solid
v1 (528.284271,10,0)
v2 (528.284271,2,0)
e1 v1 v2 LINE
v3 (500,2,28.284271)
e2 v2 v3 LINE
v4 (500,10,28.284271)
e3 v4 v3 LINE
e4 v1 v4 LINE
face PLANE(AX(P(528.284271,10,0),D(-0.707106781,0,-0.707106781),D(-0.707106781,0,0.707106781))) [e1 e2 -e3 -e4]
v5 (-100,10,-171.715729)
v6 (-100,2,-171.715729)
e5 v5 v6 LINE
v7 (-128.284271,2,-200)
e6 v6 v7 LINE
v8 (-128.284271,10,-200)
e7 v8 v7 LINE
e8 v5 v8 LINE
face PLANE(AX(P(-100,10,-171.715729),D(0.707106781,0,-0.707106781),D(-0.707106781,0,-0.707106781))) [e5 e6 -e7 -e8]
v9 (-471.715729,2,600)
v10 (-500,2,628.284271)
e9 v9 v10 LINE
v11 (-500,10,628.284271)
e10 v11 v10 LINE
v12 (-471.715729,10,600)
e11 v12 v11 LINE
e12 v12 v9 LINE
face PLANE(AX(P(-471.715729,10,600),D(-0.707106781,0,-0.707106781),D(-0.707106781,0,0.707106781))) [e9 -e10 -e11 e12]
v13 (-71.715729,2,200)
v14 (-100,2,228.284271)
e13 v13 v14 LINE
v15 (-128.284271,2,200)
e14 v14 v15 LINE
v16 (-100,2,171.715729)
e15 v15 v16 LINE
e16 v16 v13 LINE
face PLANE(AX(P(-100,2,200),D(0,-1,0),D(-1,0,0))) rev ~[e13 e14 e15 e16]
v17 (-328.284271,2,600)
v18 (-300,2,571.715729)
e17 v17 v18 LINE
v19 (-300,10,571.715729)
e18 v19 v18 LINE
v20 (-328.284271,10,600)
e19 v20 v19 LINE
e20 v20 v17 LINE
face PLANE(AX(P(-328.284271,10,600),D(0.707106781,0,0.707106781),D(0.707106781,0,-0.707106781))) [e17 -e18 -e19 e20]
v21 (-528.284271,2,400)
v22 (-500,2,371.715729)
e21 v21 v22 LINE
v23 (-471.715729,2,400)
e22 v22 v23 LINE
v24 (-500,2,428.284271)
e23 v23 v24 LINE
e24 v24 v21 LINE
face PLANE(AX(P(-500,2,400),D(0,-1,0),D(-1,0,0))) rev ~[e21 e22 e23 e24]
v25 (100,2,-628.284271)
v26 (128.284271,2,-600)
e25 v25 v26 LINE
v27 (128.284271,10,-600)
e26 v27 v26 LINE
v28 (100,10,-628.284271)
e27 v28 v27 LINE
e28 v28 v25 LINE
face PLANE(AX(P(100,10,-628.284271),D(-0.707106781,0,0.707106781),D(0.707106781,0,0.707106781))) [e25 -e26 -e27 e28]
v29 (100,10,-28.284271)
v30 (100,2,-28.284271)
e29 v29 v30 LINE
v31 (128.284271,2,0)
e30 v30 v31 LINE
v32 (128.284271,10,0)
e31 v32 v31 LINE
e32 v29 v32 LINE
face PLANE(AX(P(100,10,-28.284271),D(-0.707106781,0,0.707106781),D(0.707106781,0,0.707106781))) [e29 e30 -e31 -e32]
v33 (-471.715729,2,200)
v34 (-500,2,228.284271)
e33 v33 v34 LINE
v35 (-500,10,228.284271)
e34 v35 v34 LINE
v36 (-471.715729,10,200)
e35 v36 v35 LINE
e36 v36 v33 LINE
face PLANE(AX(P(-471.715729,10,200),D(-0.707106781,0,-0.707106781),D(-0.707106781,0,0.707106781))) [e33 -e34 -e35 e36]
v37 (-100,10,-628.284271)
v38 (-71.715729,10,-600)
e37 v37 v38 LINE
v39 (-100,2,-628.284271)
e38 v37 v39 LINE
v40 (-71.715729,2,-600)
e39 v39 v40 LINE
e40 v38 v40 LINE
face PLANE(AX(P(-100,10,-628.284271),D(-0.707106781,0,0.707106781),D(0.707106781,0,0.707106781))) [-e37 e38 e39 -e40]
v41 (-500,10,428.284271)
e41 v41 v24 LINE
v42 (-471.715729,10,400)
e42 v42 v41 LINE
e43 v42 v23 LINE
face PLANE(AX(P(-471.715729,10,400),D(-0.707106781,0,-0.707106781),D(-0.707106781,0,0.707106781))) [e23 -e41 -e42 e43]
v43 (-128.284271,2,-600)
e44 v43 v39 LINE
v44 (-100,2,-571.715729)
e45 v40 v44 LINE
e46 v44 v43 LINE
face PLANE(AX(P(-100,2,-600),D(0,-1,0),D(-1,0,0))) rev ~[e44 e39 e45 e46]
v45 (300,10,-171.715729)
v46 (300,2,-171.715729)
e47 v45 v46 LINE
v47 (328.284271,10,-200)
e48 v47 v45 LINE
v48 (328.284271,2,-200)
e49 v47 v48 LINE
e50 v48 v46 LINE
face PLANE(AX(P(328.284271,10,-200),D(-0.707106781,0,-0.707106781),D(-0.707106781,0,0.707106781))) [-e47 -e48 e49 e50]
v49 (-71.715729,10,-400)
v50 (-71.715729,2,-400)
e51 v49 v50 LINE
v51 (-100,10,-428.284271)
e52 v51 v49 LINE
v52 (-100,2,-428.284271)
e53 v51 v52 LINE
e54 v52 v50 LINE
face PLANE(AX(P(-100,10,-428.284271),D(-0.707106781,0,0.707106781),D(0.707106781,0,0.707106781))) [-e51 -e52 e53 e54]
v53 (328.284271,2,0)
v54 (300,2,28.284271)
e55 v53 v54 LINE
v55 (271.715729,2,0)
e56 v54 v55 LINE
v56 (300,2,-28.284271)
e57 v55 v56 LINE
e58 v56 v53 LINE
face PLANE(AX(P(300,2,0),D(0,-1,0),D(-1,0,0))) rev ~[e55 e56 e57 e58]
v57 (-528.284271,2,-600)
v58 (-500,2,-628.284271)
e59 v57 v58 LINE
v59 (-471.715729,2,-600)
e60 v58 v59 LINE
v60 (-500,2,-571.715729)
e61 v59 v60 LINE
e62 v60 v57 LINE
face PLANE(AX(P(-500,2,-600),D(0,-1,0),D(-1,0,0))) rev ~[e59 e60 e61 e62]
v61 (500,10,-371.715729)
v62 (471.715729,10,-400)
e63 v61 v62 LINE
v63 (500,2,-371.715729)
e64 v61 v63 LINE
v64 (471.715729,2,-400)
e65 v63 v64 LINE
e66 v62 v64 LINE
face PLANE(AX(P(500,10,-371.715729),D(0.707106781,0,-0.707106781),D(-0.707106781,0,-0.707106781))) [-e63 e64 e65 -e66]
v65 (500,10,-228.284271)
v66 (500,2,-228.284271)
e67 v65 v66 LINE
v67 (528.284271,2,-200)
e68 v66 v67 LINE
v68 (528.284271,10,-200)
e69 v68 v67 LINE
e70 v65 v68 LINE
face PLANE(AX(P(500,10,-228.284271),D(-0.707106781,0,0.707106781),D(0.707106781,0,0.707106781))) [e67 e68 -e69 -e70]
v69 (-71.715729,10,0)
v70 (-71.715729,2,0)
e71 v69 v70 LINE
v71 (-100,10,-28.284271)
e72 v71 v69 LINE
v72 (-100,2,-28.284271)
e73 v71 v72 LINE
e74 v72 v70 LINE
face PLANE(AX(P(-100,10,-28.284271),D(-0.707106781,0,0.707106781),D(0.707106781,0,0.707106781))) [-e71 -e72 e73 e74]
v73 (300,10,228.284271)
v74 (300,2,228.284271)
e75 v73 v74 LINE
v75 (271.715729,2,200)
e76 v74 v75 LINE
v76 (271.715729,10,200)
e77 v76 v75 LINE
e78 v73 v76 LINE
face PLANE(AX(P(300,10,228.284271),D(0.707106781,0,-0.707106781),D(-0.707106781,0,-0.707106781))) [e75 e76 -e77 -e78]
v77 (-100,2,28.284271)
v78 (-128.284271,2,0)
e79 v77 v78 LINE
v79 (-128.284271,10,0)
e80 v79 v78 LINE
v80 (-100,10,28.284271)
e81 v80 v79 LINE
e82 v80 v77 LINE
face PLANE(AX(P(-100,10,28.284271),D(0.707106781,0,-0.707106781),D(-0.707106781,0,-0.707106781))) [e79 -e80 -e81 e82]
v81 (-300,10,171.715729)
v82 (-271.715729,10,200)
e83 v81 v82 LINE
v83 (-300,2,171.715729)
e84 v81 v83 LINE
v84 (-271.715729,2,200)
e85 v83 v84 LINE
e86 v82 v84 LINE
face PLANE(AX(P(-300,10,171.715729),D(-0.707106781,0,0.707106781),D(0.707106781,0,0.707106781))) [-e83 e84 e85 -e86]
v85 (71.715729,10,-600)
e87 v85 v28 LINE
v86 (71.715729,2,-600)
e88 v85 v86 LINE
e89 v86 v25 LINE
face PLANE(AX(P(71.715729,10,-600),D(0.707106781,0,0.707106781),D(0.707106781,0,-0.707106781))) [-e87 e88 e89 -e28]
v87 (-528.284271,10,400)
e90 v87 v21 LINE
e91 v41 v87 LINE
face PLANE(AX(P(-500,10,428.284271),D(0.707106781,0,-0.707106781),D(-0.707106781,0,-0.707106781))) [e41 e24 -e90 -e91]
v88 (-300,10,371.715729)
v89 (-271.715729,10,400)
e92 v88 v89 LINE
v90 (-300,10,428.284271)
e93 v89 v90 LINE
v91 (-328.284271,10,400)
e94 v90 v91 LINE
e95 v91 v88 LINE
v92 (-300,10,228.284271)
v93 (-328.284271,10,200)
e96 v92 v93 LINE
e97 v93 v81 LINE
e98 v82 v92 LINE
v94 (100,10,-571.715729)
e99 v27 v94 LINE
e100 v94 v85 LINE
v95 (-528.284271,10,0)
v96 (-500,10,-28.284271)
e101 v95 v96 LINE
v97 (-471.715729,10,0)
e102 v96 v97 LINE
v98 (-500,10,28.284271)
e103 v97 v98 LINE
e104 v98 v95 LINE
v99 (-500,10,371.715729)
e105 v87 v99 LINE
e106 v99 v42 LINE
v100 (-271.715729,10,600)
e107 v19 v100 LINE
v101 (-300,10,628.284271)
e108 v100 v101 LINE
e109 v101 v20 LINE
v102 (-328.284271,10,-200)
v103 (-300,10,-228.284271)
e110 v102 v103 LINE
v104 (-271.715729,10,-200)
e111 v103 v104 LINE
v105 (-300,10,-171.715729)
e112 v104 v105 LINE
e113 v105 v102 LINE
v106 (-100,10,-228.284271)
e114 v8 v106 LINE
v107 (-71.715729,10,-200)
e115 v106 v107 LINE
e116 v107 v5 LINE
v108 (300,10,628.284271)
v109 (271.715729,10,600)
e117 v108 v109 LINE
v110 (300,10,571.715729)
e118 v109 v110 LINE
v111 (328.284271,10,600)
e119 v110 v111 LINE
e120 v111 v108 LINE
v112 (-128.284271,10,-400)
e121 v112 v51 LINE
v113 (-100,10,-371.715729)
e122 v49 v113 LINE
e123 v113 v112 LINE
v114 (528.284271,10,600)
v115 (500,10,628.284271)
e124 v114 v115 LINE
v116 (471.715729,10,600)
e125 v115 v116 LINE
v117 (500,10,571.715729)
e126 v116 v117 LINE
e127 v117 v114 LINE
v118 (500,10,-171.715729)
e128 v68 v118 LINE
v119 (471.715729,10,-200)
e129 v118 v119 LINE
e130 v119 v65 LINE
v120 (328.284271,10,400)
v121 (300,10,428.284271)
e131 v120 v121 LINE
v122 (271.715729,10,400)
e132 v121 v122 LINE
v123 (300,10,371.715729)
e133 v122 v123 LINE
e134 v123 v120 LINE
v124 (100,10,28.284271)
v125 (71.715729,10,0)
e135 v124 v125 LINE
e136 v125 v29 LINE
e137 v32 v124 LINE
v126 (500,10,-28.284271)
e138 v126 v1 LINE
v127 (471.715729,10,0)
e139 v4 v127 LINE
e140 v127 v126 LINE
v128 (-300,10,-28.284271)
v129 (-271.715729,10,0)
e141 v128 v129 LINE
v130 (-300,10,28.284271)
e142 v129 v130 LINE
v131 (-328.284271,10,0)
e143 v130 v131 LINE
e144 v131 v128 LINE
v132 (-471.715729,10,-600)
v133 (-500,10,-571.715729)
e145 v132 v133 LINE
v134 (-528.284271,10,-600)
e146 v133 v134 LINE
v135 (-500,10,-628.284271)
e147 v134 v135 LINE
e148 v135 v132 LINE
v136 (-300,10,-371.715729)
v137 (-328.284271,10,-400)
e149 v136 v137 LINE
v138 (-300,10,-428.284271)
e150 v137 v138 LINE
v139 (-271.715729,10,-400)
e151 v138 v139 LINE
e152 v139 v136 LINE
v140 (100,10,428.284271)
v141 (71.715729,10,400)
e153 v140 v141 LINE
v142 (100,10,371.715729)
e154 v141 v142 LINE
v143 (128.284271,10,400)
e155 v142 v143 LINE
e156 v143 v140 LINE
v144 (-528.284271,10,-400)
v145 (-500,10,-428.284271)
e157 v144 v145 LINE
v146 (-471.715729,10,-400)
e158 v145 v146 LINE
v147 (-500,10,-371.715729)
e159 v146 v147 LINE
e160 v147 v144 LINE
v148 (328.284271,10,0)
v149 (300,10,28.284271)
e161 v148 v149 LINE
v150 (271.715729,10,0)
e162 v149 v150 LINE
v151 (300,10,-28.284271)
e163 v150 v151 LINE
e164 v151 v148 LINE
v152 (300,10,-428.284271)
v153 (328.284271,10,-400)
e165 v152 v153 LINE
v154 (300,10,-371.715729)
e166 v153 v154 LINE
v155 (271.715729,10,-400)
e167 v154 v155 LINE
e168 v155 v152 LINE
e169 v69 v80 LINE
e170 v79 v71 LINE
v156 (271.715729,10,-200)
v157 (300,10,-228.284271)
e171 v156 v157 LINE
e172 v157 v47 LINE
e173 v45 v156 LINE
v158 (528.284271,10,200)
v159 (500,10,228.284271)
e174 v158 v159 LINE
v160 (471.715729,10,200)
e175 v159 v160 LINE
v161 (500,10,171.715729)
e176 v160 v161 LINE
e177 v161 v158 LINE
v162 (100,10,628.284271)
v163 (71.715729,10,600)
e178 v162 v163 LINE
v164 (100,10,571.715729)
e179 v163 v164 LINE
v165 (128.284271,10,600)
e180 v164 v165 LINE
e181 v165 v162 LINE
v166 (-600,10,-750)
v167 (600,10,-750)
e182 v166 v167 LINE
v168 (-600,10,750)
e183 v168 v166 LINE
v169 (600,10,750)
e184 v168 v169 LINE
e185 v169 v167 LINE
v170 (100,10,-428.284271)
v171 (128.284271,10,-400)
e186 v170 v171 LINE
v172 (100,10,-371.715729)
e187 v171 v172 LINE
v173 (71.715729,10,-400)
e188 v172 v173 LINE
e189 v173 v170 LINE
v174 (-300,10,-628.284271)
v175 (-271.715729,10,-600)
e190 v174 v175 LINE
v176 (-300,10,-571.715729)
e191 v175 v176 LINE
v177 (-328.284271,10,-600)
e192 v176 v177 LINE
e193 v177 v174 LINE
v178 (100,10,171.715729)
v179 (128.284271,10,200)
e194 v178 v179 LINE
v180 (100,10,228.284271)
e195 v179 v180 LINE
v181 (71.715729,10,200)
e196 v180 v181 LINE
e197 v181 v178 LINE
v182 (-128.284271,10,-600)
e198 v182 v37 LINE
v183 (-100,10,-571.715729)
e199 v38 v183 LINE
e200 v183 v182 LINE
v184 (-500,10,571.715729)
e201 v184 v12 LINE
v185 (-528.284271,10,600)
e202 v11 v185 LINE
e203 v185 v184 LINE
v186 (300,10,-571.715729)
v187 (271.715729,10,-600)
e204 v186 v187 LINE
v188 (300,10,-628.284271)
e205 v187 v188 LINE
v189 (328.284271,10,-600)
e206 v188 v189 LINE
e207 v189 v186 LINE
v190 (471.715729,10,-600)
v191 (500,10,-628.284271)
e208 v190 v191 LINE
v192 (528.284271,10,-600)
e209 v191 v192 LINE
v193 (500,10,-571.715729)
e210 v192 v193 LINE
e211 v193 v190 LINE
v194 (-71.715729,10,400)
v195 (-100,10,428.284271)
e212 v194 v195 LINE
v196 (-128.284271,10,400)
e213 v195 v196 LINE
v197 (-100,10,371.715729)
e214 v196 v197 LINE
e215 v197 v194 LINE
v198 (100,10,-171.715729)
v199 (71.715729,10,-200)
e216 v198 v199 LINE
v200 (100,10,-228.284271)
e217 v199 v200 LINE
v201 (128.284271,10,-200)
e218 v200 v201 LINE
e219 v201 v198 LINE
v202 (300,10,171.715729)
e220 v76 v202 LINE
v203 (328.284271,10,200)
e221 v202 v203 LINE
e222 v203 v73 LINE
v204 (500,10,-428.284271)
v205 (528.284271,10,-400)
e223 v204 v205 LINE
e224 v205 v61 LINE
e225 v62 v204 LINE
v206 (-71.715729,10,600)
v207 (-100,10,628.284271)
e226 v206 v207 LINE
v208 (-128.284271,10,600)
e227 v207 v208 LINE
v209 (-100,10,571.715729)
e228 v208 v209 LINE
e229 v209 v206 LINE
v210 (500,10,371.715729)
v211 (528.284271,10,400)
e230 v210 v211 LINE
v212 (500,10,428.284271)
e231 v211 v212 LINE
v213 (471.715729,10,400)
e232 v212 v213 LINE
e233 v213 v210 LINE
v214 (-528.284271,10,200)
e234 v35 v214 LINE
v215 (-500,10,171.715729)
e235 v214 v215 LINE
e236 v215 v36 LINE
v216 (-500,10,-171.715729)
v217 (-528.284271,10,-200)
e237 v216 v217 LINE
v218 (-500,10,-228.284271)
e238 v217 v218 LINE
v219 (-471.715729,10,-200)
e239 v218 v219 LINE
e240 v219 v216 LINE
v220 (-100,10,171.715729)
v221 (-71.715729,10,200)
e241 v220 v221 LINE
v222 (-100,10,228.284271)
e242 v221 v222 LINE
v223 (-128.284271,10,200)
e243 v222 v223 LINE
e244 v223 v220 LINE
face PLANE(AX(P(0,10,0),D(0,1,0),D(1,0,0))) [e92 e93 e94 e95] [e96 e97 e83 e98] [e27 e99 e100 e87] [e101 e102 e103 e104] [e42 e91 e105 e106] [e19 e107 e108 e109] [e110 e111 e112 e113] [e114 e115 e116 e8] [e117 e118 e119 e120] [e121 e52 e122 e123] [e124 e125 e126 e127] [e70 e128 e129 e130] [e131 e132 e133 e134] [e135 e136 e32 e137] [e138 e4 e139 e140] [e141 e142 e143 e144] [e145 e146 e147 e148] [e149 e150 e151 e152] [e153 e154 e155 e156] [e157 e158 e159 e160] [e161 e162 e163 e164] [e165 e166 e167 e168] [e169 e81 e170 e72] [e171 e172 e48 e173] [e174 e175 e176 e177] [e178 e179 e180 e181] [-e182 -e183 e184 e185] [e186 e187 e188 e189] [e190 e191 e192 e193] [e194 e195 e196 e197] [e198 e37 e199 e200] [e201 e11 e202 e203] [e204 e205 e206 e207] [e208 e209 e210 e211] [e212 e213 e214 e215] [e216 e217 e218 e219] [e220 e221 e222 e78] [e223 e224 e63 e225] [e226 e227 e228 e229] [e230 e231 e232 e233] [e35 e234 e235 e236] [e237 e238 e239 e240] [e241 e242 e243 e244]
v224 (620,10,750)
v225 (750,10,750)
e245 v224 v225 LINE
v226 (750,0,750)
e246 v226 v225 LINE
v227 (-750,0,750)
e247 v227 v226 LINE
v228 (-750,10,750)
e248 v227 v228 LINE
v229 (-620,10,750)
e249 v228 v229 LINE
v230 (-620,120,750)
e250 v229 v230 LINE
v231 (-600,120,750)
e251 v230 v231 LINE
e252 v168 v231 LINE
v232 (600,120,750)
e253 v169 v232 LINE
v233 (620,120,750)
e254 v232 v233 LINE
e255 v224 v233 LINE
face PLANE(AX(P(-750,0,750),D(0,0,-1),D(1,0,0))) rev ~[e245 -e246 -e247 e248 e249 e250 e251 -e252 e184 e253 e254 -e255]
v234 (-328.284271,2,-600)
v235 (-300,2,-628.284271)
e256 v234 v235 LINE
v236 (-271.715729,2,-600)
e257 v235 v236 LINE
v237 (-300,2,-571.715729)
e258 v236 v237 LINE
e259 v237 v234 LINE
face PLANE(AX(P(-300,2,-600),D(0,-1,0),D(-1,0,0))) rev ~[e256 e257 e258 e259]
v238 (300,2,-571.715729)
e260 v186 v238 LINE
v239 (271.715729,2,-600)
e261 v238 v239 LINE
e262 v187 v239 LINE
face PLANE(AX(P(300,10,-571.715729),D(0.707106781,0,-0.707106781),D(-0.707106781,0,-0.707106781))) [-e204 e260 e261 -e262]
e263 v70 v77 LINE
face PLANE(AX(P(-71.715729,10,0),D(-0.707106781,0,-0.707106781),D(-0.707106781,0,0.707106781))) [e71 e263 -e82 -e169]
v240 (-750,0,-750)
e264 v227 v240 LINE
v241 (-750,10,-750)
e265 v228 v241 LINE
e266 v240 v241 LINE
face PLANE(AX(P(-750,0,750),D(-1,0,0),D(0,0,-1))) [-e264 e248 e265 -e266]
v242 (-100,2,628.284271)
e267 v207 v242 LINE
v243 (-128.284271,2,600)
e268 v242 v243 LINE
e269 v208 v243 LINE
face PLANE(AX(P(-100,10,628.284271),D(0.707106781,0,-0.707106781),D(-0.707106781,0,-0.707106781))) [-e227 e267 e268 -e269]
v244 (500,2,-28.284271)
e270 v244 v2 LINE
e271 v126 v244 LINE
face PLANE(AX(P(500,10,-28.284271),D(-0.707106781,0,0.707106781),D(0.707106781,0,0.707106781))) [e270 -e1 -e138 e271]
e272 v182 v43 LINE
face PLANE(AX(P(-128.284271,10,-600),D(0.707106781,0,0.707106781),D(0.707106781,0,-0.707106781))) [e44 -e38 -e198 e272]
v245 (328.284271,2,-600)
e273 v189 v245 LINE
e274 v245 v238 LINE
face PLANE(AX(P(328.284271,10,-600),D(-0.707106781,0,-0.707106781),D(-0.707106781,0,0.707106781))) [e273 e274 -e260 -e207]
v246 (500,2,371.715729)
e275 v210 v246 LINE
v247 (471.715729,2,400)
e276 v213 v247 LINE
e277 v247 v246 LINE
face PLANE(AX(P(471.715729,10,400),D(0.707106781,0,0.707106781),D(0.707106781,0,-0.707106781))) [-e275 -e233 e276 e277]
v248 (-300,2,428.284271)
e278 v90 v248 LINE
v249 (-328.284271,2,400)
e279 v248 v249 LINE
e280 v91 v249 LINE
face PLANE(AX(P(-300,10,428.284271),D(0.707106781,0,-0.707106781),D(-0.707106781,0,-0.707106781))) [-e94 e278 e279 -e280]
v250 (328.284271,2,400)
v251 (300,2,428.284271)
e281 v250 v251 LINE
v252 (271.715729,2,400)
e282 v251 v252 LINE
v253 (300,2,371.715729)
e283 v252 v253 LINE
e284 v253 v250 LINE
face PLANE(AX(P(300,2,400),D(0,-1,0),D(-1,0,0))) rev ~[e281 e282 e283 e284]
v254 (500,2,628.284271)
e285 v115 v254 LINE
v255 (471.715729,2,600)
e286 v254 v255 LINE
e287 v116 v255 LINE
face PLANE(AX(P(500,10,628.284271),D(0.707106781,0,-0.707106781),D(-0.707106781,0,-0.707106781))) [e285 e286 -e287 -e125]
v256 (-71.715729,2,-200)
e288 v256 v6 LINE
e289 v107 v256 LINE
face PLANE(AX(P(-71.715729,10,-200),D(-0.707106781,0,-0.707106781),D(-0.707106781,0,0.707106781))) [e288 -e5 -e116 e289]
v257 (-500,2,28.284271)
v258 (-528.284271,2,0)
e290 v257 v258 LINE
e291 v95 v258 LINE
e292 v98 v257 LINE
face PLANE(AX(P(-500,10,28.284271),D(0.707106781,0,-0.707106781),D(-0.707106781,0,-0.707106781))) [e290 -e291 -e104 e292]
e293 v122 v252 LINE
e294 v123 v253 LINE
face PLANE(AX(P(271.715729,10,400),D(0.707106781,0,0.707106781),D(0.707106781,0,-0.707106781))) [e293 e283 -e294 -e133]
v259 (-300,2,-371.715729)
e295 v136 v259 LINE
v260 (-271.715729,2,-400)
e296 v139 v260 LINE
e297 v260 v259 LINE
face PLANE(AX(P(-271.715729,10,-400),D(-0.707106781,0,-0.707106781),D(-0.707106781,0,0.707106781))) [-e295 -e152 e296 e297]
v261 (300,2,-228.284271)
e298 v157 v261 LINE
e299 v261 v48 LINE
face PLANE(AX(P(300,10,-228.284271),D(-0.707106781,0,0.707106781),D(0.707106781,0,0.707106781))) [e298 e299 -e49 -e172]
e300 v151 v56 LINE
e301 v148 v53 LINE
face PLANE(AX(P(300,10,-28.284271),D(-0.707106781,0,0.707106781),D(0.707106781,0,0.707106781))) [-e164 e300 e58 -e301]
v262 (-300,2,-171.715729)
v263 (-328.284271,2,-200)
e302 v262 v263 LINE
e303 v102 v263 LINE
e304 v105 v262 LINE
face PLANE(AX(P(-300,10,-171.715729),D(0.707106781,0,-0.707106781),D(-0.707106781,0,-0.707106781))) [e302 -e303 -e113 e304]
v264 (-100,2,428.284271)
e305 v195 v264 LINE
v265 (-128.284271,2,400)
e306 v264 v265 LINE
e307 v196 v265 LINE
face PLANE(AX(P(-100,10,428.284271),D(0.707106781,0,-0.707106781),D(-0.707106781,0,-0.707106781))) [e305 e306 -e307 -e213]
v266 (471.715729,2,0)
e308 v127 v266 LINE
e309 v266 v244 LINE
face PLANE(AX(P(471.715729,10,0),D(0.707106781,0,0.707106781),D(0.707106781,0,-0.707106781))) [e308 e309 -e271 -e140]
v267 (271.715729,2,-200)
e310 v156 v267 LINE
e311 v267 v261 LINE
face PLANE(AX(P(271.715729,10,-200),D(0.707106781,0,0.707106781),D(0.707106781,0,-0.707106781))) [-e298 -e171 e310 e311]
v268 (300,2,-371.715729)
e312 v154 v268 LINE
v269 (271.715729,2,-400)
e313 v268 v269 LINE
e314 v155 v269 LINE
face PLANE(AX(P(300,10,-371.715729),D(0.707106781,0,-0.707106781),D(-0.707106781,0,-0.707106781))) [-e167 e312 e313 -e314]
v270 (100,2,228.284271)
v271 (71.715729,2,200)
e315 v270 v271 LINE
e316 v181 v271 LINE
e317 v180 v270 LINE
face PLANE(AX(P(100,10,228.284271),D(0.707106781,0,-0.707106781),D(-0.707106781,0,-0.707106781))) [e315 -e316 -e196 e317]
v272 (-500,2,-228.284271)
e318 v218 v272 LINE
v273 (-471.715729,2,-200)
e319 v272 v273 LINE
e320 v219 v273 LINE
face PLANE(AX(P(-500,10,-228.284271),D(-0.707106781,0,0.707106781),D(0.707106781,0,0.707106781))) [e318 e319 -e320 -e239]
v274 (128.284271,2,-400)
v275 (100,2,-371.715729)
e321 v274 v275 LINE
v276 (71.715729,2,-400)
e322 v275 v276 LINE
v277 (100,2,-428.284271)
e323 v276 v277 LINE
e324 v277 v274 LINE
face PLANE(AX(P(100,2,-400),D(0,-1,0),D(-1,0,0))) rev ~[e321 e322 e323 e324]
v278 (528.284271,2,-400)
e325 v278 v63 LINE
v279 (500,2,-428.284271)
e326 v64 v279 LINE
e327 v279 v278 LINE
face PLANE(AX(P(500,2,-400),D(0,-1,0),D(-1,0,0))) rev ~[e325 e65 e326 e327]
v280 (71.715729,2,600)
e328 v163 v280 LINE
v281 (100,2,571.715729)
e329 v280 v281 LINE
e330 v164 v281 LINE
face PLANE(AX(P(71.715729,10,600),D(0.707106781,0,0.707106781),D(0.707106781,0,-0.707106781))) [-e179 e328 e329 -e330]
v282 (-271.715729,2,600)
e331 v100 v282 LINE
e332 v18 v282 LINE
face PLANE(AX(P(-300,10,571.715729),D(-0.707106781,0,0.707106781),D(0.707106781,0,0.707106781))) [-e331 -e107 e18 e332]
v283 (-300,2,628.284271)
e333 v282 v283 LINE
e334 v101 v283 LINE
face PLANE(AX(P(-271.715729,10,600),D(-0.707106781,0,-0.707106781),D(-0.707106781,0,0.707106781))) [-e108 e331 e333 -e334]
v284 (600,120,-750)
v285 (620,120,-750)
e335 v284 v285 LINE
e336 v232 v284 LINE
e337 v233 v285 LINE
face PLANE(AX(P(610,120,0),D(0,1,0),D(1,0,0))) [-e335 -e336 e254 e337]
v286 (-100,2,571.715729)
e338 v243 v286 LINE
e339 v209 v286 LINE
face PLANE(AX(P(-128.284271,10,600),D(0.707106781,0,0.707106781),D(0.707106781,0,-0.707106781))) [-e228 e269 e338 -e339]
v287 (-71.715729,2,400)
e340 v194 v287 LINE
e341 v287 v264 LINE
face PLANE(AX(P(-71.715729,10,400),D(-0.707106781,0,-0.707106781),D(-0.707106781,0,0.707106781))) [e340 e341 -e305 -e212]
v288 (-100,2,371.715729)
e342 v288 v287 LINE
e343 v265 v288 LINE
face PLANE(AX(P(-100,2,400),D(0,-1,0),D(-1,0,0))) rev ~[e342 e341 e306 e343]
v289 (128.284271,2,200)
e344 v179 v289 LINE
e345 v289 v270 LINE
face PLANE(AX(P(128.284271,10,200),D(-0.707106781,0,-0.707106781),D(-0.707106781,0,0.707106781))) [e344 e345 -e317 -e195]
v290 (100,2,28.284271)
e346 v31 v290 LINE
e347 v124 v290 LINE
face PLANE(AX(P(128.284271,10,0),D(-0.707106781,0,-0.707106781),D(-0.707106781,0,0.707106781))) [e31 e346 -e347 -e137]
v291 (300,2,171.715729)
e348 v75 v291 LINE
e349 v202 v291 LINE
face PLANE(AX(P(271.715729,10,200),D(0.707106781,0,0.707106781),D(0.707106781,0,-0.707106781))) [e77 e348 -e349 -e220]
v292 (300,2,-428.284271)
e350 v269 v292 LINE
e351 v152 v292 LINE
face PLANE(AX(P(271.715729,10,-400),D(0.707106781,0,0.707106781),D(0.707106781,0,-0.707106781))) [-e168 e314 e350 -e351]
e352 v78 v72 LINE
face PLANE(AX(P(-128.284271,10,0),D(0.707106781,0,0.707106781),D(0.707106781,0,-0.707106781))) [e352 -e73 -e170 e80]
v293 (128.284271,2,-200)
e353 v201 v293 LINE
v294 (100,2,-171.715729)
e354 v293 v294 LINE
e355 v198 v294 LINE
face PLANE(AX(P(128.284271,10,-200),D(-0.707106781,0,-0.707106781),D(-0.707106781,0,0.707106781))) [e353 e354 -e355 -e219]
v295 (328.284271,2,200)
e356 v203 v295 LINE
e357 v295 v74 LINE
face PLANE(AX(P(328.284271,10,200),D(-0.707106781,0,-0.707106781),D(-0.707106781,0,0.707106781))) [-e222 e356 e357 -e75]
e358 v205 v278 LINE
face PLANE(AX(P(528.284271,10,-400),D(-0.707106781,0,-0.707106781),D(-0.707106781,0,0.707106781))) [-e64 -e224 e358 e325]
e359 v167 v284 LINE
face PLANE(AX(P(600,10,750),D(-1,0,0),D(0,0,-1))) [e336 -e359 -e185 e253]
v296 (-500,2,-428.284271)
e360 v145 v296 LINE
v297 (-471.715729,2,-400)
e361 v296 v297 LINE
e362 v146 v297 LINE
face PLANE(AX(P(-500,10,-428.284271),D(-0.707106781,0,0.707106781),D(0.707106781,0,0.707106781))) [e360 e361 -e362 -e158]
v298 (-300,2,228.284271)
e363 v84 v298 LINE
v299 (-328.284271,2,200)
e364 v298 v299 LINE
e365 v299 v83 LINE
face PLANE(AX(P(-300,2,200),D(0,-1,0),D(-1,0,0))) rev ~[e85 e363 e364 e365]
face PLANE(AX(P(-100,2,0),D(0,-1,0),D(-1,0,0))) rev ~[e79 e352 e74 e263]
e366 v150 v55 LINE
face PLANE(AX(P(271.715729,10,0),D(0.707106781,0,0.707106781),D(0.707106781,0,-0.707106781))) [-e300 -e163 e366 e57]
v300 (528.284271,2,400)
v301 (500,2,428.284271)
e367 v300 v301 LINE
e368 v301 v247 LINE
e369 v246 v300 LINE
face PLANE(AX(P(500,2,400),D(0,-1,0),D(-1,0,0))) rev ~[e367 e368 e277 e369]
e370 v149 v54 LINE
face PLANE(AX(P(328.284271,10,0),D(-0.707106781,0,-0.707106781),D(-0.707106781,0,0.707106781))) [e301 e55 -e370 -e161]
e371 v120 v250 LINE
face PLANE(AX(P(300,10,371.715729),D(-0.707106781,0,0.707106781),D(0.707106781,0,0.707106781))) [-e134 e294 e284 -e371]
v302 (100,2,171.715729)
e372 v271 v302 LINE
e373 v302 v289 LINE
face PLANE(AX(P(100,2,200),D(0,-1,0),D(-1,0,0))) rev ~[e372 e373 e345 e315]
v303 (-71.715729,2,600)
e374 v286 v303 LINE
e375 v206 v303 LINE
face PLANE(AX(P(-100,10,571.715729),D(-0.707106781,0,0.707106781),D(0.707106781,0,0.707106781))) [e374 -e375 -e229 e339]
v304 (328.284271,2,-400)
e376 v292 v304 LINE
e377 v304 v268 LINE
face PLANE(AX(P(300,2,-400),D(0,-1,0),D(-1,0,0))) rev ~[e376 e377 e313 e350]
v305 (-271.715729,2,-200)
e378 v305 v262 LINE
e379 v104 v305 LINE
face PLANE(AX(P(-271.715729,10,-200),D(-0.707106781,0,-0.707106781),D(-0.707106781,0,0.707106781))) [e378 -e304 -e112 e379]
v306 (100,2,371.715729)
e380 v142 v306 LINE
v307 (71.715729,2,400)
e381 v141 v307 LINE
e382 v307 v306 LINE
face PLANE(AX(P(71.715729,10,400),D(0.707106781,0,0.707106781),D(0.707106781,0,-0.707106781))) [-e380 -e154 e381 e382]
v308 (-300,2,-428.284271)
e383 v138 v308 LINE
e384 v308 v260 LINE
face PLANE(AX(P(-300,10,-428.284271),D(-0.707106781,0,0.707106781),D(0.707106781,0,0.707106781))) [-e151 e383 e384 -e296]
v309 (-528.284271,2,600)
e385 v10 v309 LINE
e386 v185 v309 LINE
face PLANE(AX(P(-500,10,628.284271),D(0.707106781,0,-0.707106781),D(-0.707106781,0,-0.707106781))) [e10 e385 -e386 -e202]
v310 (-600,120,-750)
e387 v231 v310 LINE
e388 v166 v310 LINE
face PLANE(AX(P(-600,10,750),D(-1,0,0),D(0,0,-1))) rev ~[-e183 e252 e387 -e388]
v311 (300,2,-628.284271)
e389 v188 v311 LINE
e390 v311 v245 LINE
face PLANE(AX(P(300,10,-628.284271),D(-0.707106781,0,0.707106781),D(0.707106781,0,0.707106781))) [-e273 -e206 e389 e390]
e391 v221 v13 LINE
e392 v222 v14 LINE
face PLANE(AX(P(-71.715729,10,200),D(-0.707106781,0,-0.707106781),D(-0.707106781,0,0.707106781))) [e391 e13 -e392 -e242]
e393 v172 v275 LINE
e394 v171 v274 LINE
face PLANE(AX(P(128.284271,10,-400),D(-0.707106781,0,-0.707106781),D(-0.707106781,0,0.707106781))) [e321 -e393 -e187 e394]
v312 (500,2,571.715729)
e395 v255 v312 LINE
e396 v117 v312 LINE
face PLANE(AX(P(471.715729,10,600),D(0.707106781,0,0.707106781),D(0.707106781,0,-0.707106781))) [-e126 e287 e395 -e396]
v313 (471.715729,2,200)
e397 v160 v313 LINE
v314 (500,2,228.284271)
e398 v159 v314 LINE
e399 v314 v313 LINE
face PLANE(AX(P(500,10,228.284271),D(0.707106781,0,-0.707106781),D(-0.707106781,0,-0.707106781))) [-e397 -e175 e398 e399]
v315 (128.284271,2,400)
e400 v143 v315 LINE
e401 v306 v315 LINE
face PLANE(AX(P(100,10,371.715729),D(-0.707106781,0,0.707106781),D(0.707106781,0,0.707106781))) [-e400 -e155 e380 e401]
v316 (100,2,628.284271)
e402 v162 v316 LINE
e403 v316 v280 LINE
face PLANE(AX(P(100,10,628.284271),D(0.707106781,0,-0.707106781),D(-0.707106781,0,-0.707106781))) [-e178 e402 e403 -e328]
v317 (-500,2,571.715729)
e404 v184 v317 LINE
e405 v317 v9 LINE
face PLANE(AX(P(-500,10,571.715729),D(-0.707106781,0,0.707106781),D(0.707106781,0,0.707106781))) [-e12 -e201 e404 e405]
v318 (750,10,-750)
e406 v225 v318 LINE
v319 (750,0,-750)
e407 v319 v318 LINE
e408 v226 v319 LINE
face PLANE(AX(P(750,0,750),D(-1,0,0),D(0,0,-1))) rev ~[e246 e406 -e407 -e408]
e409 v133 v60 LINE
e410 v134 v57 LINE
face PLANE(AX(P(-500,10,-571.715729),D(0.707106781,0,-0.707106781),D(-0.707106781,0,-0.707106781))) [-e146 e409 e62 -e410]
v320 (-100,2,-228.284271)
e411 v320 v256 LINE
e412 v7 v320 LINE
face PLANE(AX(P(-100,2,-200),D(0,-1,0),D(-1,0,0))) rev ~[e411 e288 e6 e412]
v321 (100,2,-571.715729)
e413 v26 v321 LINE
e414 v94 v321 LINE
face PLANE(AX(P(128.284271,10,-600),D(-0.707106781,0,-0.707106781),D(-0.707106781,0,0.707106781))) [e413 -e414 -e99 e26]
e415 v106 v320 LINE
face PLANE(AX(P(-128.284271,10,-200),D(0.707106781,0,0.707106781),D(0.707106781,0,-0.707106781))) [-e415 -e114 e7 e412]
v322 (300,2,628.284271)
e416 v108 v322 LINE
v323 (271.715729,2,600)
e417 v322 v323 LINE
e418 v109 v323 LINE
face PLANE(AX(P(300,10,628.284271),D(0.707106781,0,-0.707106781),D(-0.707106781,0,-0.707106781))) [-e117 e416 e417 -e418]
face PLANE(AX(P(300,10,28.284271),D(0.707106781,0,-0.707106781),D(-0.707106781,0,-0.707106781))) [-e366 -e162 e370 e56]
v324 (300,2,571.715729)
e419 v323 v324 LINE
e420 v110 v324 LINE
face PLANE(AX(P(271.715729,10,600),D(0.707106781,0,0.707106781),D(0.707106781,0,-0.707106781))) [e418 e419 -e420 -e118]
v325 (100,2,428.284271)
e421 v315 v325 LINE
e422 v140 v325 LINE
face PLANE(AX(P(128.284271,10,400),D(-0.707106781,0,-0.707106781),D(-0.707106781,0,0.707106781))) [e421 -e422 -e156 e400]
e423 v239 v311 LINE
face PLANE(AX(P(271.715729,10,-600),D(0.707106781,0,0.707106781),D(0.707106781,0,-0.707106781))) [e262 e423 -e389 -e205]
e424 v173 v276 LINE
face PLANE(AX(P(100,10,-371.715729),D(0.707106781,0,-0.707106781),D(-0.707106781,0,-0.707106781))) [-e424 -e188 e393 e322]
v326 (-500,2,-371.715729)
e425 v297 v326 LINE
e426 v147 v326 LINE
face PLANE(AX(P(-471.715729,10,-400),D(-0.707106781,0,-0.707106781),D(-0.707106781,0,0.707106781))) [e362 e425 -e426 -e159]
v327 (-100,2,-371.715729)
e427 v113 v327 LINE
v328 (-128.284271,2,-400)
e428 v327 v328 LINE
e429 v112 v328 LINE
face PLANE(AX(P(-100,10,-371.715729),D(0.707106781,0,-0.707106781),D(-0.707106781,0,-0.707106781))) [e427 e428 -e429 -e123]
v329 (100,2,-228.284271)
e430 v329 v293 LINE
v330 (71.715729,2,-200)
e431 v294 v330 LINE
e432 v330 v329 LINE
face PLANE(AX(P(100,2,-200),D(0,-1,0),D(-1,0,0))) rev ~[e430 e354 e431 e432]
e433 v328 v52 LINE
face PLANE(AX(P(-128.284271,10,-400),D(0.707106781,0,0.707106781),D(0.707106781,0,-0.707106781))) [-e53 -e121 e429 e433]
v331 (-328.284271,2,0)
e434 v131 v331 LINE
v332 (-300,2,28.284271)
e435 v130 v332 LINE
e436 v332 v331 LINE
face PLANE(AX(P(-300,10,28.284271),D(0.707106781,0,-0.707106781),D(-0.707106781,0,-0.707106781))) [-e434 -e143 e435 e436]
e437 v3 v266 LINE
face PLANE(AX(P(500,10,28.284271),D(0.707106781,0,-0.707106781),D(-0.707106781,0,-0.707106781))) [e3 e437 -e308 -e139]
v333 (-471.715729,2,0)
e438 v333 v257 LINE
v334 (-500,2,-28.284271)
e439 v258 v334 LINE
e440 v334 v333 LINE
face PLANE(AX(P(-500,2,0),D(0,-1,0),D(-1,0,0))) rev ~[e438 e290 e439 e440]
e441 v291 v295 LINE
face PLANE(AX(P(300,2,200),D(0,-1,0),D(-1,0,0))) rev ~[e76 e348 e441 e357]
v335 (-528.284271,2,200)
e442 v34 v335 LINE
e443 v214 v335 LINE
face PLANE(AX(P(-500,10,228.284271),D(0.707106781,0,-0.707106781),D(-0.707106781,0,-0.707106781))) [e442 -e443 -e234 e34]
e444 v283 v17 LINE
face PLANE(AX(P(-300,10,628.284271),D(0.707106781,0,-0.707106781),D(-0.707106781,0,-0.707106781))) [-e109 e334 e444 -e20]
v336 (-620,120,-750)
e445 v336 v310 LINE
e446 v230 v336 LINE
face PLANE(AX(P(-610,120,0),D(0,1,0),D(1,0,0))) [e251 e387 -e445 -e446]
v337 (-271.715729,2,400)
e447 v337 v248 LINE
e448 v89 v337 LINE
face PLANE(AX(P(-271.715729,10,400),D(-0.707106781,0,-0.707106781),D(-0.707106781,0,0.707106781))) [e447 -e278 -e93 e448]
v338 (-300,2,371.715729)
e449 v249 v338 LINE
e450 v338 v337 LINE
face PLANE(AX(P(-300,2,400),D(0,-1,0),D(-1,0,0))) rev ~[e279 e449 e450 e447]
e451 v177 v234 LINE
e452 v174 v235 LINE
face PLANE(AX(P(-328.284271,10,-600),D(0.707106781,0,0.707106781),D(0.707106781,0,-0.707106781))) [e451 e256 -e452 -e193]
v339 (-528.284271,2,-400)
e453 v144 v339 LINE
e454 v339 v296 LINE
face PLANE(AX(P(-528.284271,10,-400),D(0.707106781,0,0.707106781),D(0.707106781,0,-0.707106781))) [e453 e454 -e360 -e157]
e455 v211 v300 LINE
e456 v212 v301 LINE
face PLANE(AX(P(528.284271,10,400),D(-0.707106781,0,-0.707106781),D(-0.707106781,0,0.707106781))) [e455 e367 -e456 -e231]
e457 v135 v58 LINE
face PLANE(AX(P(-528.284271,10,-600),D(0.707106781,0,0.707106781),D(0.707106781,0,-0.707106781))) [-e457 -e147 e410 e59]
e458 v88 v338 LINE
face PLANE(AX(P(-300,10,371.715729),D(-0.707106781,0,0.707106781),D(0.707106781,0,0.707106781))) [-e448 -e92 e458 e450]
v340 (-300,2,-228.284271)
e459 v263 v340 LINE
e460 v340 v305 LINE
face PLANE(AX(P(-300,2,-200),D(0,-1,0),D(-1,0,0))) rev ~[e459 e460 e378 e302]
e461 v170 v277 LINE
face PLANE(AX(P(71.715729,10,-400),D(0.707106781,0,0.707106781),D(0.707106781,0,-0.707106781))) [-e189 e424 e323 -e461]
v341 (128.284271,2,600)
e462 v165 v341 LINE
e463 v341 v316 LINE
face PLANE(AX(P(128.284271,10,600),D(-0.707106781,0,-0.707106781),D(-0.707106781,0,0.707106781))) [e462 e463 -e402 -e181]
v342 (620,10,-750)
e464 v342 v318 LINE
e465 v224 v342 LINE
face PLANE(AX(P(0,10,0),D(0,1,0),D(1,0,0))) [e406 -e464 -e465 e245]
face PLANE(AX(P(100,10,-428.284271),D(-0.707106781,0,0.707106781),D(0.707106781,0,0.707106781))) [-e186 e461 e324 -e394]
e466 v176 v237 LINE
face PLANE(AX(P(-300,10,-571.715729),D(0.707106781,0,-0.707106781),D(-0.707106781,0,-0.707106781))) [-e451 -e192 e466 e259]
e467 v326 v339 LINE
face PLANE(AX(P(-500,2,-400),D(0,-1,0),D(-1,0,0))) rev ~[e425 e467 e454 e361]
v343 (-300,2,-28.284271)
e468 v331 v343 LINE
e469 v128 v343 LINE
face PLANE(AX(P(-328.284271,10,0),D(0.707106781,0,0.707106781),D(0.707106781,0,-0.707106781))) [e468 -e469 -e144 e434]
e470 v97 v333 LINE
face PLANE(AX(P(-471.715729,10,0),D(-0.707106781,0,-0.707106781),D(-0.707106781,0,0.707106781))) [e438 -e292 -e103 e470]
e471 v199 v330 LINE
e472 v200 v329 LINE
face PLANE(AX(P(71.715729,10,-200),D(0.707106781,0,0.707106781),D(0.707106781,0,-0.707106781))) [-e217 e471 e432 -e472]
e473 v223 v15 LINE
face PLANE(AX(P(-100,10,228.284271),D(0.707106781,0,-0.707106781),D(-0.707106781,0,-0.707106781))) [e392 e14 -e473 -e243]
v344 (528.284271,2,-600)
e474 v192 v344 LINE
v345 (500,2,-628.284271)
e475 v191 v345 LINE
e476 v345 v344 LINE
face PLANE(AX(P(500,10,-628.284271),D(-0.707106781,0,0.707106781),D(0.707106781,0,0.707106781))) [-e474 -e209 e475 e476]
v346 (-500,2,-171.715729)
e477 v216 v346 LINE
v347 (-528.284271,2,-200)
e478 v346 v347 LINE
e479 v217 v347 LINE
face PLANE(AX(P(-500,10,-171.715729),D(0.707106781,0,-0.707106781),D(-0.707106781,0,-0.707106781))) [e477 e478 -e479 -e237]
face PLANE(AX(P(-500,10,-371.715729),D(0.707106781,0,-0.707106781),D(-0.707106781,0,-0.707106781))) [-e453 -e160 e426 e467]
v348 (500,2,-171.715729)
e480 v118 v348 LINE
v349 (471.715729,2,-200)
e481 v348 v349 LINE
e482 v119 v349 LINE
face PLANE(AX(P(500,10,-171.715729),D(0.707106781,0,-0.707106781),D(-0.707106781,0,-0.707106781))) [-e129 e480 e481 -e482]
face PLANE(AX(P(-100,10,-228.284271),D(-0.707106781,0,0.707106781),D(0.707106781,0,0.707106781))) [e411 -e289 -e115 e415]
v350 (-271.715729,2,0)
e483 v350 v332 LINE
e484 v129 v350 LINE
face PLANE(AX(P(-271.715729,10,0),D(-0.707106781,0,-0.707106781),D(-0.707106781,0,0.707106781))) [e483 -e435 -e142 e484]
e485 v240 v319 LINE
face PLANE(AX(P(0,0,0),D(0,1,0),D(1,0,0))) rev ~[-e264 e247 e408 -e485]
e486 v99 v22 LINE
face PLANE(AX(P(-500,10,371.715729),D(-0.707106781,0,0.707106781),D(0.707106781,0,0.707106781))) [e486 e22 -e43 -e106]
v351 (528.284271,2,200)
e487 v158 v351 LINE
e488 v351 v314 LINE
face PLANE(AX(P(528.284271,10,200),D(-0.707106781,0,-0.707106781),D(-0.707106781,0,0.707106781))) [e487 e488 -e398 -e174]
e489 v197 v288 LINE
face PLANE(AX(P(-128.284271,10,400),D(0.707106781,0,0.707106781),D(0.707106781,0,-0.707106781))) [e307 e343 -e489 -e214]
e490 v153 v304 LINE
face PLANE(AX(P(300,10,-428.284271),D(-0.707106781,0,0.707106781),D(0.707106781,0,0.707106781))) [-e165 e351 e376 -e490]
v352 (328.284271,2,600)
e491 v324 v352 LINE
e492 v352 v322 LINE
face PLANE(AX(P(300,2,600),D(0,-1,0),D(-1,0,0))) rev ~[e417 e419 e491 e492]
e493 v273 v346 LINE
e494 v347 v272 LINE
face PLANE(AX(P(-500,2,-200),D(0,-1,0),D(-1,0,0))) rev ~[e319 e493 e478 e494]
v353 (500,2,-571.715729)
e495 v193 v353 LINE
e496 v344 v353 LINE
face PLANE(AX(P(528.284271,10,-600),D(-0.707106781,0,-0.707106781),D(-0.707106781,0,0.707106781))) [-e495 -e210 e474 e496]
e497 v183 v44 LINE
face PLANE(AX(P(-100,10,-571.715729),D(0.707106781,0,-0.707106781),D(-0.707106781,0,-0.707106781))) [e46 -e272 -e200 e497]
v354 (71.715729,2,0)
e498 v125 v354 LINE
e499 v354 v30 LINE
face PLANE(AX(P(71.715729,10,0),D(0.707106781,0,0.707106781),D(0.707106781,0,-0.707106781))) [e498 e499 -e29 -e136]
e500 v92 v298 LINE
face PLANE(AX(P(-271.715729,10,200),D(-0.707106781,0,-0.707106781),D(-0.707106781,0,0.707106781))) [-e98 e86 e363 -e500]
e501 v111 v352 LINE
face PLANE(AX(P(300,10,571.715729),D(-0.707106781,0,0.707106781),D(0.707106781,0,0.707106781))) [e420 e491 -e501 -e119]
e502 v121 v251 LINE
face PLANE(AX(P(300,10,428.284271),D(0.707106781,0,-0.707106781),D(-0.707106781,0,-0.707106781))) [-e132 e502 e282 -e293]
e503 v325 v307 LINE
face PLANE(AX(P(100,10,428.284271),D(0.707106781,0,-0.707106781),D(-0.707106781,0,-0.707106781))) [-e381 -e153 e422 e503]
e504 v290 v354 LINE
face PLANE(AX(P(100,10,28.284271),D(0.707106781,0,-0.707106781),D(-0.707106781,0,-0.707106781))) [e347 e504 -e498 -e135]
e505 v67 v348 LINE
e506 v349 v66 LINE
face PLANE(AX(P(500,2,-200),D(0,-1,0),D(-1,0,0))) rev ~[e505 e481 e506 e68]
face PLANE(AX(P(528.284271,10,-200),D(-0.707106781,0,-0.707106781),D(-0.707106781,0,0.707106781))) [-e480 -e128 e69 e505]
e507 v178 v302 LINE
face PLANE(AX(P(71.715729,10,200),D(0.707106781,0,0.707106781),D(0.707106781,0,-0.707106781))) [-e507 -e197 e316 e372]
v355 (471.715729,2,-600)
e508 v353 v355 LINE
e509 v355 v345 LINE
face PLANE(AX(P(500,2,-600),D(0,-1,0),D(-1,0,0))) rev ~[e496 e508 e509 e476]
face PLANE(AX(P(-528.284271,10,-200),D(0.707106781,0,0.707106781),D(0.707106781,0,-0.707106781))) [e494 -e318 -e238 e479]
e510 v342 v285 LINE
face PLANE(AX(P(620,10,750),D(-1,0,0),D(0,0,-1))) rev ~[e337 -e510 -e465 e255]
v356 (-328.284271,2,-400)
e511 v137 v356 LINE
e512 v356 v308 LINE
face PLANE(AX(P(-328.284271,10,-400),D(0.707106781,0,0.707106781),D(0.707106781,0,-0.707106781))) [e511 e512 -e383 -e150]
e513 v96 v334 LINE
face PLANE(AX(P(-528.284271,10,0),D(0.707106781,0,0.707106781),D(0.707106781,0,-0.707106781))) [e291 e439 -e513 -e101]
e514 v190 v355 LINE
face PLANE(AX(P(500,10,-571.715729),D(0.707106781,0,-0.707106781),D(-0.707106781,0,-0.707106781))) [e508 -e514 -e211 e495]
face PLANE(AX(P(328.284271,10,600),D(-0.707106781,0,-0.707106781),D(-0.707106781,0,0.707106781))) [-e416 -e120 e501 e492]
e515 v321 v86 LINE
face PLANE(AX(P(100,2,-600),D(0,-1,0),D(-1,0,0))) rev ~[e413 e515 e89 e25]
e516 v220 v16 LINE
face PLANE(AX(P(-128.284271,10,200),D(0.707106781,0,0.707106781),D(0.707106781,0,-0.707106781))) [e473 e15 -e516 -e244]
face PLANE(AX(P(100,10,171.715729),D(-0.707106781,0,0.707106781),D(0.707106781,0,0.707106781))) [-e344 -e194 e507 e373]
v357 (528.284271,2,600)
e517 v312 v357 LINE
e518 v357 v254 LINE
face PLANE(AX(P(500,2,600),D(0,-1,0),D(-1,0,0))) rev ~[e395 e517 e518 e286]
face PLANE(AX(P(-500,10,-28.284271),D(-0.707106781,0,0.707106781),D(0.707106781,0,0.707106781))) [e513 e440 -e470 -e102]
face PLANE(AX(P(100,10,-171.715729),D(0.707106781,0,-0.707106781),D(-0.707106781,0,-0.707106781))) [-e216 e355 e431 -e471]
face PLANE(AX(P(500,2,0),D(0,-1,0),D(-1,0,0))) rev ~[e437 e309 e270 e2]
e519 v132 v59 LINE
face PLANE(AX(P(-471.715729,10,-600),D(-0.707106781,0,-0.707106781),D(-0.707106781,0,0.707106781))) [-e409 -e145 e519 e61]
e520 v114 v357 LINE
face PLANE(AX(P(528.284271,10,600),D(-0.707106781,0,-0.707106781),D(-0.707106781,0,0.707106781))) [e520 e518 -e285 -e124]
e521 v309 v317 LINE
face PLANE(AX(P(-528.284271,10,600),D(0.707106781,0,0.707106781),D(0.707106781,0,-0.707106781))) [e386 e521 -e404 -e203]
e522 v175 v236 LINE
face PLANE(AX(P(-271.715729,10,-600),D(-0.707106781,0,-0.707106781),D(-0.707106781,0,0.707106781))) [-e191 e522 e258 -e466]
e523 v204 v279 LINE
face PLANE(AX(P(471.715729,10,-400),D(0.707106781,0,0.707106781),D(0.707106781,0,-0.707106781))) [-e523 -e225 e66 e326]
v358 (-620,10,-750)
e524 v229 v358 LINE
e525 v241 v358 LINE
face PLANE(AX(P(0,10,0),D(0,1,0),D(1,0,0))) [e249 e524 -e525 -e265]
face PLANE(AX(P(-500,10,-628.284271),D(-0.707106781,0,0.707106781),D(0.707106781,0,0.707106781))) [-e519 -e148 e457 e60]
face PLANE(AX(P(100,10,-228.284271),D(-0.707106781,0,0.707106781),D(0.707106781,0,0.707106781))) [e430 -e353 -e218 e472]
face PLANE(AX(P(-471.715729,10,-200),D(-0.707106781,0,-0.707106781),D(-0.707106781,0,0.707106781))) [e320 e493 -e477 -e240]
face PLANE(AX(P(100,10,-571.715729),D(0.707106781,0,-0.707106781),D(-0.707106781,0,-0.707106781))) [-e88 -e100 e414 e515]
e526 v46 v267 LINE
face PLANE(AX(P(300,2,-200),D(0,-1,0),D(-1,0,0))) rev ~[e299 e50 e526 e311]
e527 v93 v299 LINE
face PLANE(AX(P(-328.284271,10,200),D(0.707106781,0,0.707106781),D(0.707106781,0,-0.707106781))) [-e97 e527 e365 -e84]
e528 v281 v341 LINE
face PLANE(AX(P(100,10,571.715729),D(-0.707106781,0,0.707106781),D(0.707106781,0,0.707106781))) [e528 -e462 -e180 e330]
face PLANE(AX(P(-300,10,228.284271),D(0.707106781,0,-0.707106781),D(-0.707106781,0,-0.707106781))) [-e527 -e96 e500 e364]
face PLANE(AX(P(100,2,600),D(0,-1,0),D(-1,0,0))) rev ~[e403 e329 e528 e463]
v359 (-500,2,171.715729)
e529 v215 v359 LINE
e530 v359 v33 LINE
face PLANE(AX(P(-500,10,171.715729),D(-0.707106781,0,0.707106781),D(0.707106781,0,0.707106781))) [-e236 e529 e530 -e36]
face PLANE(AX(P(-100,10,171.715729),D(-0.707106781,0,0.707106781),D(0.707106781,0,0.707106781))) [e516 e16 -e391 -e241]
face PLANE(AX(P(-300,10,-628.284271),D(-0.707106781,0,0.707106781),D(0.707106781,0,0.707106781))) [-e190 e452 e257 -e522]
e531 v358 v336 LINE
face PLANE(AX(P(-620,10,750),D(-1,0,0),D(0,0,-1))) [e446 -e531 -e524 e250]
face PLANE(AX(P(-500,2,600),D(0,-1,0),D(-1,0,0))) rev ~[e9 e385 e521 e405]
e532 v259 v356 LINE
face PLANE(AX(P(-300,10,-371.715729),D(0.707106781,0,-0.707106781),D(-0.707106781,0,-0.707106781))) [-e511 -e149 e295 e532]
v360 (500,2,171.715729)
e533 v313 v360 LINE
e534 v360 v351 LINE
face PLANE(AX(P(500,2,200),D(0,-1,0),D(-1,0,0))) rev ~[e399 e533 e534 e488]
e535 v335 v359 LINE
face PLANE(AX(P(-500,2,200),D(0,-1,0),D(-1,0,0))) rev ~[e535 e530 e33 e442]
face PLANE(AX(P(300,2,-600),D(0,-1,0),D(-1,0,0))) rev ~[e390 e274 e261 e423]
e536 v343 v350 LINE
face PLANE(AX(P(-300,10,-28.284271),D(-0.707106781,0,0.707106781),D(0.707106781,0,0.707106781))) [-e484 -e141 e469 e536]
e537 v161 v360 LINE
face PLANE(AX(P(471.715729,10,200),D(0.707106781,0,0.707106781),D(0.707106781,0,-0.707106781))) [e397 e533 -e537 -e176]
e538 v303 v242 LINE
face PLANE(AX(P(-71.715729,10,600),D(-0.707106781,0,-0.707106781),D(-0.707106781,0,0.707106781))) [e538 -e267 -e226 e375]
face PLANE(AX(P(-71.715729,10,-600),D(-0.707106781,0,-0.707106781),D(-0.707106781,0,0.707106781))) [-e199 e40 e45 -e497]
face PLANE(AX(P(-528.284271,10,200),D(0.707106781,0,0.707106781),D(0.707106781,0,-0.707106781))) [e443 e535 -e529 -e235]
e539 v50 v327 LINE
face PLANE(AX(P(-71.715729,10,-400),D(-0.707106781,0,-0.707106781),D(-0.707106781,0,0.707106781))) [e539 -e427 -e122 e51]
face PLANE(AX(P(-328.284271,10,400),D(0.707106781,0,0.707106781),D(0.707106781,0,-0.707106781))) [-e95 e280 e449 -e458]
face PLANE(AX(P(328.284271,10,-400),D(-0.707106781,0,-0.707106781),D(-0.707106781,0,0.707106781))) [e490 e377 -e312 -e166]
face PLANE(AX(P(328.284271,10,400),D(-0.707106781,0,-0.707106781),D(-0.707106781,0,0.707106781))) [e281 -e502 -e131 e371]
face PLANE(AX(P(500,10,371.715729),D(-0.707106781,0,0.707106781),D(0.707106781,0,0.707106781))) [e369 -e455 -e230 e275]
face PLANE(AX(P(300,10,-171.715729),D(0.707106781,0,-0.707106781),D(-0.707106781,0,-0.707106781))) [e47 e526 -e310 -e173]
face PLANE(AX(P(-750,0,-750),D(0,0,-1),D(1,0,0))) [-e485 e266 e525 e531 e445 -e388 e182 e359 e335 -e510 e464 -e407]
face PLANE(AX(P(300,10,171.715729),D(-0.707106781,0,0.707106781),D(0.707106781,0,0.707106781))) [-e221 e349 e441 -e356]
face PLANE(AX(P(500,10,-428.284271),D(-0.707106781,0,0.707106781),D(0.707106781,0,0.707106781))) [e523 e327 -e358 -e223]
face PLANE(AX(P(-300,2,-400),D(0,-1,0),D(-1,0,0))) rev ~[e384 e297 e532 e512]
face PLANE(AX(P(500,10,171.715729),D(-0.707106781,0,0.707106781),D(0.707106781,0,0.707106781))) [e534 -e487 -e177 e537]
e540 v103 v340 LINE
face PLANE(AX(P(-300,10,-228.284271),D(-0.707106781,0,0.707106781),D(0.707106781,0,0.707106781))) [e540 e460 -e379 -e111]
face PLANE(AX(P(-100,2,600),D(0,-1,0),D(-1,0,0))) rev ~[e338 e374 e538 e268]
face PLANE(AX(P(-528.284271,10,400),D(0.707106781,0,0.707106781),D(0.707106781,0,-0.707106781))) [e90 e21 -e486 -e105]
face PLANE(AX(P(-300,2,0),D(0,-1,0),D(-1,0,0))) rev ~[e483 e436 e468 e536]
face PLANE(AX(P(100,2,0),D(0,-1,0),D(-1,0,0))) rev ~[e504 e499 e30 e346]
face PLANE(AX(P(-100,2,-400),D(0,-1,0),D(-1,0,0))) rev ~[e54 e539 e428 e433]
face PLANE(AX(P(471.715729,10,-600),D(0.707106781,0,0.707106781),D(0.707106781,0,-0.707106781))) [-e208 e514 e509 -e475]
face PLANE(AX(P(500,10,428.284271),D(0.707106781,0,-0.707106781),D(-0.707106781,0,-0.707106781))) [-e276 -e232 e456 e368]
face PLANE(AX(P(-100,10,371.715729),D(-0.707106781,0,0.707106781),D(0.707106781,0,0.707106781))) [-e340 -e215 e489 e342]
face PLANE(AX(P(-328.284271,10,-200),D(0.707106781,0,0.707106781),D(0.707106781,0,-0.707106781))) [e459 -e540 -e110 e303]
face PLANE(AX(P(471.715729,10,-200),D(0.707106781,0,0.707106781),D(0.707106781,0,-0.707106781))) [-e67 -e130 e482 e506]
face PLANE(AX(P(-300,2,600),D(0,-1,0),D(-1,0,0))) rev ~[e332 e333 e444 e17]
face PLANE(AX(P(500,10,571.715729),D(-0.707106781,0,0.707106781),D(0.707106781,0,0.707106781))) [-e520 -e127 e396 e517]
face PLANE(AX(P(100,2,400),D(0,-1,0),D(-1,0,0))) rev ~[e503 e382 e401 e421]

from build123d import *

# Parameters (mm, degrees)
SKETCH2_W           = 1500
SKETCH2_H           = 1500
BOSS_EXTRUDE1_DEPTH = 10
SKETCH3_W           = 20
SKETCH3_H           = 1500
BOSS_EXTRUDE2_DEPTH = 110
CUT_EXTRUDE1_DEPTH  = 8


with BuildPart() as part:
    # Sketch2 → Boss-Extrude1 (new body)
    with BuildSketch(Plane(origin=(0, 0, 0), x_dir=(1, 0, 0), z_dir=(0, 1, 0))):
        Rectangle(SKETCH2_W, SKETCH2_H)
    extrude(amount=BOSS_EXTRUDE1_DEPTH)

    # Sketch3 → Boss-Extrude2 (add)
    with BuildSketch(Plane(origin=(0, 10, 0), x_dir=(1, 0, 0), z_dir=(0, 1, 0))):
        with Locations((-610, 0)):
            Rectangle(SKETCH3_W, SKETCH3_H)
        with Locations((610, 0)):
            Rectangle(SKETCH3_W, SKETCH3_H)
    extrude(amount=BOSS_EXTRUDE2_DEPTH)

    # Sketch4 → Cut-Extrude1 (cut)
    with BuildSketch(Plane(origin=(0, 10, 0), x_dir=(1, 0, 0), z_dir=(0, 1, 0))):
        Polygon((-500, 628.284271247), (-471.715728753, 600), (-500, 571.715728753), (-528.284271247, 600), align=None)
        Polygon((-300, 628.284271247), (-271.715728753, 600), (-300, 571.715728753), (-328.284271247, 600), align=None)
        Polygon((-100, 628.284271247), (-71.715728753, 600), (-100, 571.715728753), (-128.284271247, 600), align=None)
        Polygon((100, 628.284271247), (128.284271247, 600), (100, 571.715728753), (71.715728753, 600), align=None)
        Polygon((300, 628.284271247), (328.284271247, 600), (300, 571.715728753), (271.715728753, 600), align=None)
        Polygon((500, 628.284271247), (528.284271247, 600), (500, 571.715728753), (471.715728753, 600), align=None)
        Polygon((-300, 428.284271247), (-271.715728753, 400), (-300, 371.715728753), (-328.284271247, 400), align=None)
        Polygon((-100, 428.284271247), (-71.715728753, 400), (-100, 371.715728753), (-128.284271247, 400), align=None)
        Polygon((100, 428.284271247), (128.284271247, 400), (100, 371.715728753), (71.715728753, 400), align=None)
        Polygon((300, 428.284271247), (328.284271247, 400), (300, 371.715728753), (271.715728753, 400), align=None)
        Polygon((500, 428.284271247), (528.284271247, 400), (500, 371.715728753), (471.715728753, 400), align=None)
        Polygon((-300, 228.284271247), (-271.715728753, 200), (-300, 171.715728753), (-328.284271247, 200), align=None)
        Polygon((-100, 228.284271247), (-71.715728753, 200), (-100, 171.715728753), (-128.284271247, 200), align=None)
        Polygon((100, 228.284271247), (128.284271247, 200), (100, 171.715728753), (71.715728753, 200), align=None)
        Polygon((300, 228.284271247), (328.284271247, 200), (300, 171.715728753), (271.715728753, 200), align=None)
        Polygon((500, 228.284271247), (528.284271247, 200), (500, 171.715728753), (471.715728753, 200), align=None)
        Polygon((-300, 28.284271247), (-271.715728753, 0), (-300, -28.284271247), (-328.284271247, 0), align=None)
        Polygon((-100, 28.284271247), (-71.715728753, 0), (-100, -28.284271247), (-128.284271247, 0), align=None)
        Polygon((100, 28.284271247), (128.284271247, 0), (100, -28.284271247), (71.715728753, 0), align=None)
        Polygon((300, 28.284271247), (328.284271247, 0), (300, -28.284271247), (271.715728753, 0), align=None)
        Polygon((500, 28.284271247), (528.284271247, 0), (500, -28.284271247), (471.715728753, 0), align=None)
        Polygon((-300, -171.715728753), (-271.715728753, -200), (-300, -228.284271247), (-328.284271247, -200), align=None)
        Polygon((-100, -171.715728753), (-71.715728753, -200), (-100, -228.284271247), (-128.284271247, -200), align=None)
        Polygon((100, -171.715728753), (128.284271247, -200), (100, -228.284271247), (71.715728753, -200), align=None)
        Polygon((300, -171.715728753), (328.284271247, -200), (300, -228.284271247), (271.715728753, -200), align=None)
        Polygon((500, -171.715728753), (528.284271247, -200), (500, -228.284271247), (471.715728753, -200), align=None)
        Polygon((-300, -371.715728753), (-271.715728753, -400), (-300, -428.284271247), (-328.284271247, -400), align=None)
        Polygon((-100, -371.715728753), (-71.715728753, -400), (-100, -428.284271247), (-128.284271247, -400), align=None)
        Polygon((100, -371.715728753), (128.284271247, -400), (100, -428.284271247), (71.715728753, -400), align=None)
        Polygon((300, -371.715728753), (328.284271247, -400), (300, -428.284271247), (271.715728753, -400), align=None)
        Polygon((500, -371.715728753), (528.284271247, -400), (500, -428.284271247), (471.715728753, -400), align=None)
        Polygon((-500, 428.284271247), (-471.715728753, 400), (-500, 371.715728753), (-528.284271247, 400), align=None)
        Polygon((-500, 228.284271247), (-471.715728753, 200), (-500, 171.715728753), (-528.284271247, 200), align=None)
        Polygon((-500, 28.284271247), (-471.715728753, 0), (-500, -28.284271247), (-528.284271247, 0), align=None)
        Polygon((-500, -171.715728753), (-471.715728753, -200), (-500, -228.284271247), (-528.284271247, -200), align=None)
        Polygon((-500, -371.715728753), (-471.715728753, -400), (-500, -428.284271247), (-528.284271247, -400), align=None)
        Polygon((-500, -571.715728753), (-471.715728753, -600), (-500, -628.284271247), (-528.284271247, -600), align=None)
        Polygon((-300, -571.715728753), (-271.715728753, -600), (-300, -628.284271247), (-328.284271247, -600), align=None)
        Polygon((-100, -571.715728753), (-71.715728753, -600), (-100, -628.284271247), (-128.284271247, -600), align=None)
        Polygon((100, -571.715728753), (128.284271247, -600), (100, -628.284271247), (71.715728753, -600), align=None)
        Polygon((300, -571.715728753), (328.284271247, -600), (300, -628.284271247), (271.715728753, -600), align=None)
        Polygon((500, -571.715728753), (528.284271247, -600), (500, -628.284271247), (471.715728753, -600), align=None)
    extrude(amount=-CUT_EXTRUDE1_DEPTH, mode=Mode.SUBTRACT)


solid = part.part
